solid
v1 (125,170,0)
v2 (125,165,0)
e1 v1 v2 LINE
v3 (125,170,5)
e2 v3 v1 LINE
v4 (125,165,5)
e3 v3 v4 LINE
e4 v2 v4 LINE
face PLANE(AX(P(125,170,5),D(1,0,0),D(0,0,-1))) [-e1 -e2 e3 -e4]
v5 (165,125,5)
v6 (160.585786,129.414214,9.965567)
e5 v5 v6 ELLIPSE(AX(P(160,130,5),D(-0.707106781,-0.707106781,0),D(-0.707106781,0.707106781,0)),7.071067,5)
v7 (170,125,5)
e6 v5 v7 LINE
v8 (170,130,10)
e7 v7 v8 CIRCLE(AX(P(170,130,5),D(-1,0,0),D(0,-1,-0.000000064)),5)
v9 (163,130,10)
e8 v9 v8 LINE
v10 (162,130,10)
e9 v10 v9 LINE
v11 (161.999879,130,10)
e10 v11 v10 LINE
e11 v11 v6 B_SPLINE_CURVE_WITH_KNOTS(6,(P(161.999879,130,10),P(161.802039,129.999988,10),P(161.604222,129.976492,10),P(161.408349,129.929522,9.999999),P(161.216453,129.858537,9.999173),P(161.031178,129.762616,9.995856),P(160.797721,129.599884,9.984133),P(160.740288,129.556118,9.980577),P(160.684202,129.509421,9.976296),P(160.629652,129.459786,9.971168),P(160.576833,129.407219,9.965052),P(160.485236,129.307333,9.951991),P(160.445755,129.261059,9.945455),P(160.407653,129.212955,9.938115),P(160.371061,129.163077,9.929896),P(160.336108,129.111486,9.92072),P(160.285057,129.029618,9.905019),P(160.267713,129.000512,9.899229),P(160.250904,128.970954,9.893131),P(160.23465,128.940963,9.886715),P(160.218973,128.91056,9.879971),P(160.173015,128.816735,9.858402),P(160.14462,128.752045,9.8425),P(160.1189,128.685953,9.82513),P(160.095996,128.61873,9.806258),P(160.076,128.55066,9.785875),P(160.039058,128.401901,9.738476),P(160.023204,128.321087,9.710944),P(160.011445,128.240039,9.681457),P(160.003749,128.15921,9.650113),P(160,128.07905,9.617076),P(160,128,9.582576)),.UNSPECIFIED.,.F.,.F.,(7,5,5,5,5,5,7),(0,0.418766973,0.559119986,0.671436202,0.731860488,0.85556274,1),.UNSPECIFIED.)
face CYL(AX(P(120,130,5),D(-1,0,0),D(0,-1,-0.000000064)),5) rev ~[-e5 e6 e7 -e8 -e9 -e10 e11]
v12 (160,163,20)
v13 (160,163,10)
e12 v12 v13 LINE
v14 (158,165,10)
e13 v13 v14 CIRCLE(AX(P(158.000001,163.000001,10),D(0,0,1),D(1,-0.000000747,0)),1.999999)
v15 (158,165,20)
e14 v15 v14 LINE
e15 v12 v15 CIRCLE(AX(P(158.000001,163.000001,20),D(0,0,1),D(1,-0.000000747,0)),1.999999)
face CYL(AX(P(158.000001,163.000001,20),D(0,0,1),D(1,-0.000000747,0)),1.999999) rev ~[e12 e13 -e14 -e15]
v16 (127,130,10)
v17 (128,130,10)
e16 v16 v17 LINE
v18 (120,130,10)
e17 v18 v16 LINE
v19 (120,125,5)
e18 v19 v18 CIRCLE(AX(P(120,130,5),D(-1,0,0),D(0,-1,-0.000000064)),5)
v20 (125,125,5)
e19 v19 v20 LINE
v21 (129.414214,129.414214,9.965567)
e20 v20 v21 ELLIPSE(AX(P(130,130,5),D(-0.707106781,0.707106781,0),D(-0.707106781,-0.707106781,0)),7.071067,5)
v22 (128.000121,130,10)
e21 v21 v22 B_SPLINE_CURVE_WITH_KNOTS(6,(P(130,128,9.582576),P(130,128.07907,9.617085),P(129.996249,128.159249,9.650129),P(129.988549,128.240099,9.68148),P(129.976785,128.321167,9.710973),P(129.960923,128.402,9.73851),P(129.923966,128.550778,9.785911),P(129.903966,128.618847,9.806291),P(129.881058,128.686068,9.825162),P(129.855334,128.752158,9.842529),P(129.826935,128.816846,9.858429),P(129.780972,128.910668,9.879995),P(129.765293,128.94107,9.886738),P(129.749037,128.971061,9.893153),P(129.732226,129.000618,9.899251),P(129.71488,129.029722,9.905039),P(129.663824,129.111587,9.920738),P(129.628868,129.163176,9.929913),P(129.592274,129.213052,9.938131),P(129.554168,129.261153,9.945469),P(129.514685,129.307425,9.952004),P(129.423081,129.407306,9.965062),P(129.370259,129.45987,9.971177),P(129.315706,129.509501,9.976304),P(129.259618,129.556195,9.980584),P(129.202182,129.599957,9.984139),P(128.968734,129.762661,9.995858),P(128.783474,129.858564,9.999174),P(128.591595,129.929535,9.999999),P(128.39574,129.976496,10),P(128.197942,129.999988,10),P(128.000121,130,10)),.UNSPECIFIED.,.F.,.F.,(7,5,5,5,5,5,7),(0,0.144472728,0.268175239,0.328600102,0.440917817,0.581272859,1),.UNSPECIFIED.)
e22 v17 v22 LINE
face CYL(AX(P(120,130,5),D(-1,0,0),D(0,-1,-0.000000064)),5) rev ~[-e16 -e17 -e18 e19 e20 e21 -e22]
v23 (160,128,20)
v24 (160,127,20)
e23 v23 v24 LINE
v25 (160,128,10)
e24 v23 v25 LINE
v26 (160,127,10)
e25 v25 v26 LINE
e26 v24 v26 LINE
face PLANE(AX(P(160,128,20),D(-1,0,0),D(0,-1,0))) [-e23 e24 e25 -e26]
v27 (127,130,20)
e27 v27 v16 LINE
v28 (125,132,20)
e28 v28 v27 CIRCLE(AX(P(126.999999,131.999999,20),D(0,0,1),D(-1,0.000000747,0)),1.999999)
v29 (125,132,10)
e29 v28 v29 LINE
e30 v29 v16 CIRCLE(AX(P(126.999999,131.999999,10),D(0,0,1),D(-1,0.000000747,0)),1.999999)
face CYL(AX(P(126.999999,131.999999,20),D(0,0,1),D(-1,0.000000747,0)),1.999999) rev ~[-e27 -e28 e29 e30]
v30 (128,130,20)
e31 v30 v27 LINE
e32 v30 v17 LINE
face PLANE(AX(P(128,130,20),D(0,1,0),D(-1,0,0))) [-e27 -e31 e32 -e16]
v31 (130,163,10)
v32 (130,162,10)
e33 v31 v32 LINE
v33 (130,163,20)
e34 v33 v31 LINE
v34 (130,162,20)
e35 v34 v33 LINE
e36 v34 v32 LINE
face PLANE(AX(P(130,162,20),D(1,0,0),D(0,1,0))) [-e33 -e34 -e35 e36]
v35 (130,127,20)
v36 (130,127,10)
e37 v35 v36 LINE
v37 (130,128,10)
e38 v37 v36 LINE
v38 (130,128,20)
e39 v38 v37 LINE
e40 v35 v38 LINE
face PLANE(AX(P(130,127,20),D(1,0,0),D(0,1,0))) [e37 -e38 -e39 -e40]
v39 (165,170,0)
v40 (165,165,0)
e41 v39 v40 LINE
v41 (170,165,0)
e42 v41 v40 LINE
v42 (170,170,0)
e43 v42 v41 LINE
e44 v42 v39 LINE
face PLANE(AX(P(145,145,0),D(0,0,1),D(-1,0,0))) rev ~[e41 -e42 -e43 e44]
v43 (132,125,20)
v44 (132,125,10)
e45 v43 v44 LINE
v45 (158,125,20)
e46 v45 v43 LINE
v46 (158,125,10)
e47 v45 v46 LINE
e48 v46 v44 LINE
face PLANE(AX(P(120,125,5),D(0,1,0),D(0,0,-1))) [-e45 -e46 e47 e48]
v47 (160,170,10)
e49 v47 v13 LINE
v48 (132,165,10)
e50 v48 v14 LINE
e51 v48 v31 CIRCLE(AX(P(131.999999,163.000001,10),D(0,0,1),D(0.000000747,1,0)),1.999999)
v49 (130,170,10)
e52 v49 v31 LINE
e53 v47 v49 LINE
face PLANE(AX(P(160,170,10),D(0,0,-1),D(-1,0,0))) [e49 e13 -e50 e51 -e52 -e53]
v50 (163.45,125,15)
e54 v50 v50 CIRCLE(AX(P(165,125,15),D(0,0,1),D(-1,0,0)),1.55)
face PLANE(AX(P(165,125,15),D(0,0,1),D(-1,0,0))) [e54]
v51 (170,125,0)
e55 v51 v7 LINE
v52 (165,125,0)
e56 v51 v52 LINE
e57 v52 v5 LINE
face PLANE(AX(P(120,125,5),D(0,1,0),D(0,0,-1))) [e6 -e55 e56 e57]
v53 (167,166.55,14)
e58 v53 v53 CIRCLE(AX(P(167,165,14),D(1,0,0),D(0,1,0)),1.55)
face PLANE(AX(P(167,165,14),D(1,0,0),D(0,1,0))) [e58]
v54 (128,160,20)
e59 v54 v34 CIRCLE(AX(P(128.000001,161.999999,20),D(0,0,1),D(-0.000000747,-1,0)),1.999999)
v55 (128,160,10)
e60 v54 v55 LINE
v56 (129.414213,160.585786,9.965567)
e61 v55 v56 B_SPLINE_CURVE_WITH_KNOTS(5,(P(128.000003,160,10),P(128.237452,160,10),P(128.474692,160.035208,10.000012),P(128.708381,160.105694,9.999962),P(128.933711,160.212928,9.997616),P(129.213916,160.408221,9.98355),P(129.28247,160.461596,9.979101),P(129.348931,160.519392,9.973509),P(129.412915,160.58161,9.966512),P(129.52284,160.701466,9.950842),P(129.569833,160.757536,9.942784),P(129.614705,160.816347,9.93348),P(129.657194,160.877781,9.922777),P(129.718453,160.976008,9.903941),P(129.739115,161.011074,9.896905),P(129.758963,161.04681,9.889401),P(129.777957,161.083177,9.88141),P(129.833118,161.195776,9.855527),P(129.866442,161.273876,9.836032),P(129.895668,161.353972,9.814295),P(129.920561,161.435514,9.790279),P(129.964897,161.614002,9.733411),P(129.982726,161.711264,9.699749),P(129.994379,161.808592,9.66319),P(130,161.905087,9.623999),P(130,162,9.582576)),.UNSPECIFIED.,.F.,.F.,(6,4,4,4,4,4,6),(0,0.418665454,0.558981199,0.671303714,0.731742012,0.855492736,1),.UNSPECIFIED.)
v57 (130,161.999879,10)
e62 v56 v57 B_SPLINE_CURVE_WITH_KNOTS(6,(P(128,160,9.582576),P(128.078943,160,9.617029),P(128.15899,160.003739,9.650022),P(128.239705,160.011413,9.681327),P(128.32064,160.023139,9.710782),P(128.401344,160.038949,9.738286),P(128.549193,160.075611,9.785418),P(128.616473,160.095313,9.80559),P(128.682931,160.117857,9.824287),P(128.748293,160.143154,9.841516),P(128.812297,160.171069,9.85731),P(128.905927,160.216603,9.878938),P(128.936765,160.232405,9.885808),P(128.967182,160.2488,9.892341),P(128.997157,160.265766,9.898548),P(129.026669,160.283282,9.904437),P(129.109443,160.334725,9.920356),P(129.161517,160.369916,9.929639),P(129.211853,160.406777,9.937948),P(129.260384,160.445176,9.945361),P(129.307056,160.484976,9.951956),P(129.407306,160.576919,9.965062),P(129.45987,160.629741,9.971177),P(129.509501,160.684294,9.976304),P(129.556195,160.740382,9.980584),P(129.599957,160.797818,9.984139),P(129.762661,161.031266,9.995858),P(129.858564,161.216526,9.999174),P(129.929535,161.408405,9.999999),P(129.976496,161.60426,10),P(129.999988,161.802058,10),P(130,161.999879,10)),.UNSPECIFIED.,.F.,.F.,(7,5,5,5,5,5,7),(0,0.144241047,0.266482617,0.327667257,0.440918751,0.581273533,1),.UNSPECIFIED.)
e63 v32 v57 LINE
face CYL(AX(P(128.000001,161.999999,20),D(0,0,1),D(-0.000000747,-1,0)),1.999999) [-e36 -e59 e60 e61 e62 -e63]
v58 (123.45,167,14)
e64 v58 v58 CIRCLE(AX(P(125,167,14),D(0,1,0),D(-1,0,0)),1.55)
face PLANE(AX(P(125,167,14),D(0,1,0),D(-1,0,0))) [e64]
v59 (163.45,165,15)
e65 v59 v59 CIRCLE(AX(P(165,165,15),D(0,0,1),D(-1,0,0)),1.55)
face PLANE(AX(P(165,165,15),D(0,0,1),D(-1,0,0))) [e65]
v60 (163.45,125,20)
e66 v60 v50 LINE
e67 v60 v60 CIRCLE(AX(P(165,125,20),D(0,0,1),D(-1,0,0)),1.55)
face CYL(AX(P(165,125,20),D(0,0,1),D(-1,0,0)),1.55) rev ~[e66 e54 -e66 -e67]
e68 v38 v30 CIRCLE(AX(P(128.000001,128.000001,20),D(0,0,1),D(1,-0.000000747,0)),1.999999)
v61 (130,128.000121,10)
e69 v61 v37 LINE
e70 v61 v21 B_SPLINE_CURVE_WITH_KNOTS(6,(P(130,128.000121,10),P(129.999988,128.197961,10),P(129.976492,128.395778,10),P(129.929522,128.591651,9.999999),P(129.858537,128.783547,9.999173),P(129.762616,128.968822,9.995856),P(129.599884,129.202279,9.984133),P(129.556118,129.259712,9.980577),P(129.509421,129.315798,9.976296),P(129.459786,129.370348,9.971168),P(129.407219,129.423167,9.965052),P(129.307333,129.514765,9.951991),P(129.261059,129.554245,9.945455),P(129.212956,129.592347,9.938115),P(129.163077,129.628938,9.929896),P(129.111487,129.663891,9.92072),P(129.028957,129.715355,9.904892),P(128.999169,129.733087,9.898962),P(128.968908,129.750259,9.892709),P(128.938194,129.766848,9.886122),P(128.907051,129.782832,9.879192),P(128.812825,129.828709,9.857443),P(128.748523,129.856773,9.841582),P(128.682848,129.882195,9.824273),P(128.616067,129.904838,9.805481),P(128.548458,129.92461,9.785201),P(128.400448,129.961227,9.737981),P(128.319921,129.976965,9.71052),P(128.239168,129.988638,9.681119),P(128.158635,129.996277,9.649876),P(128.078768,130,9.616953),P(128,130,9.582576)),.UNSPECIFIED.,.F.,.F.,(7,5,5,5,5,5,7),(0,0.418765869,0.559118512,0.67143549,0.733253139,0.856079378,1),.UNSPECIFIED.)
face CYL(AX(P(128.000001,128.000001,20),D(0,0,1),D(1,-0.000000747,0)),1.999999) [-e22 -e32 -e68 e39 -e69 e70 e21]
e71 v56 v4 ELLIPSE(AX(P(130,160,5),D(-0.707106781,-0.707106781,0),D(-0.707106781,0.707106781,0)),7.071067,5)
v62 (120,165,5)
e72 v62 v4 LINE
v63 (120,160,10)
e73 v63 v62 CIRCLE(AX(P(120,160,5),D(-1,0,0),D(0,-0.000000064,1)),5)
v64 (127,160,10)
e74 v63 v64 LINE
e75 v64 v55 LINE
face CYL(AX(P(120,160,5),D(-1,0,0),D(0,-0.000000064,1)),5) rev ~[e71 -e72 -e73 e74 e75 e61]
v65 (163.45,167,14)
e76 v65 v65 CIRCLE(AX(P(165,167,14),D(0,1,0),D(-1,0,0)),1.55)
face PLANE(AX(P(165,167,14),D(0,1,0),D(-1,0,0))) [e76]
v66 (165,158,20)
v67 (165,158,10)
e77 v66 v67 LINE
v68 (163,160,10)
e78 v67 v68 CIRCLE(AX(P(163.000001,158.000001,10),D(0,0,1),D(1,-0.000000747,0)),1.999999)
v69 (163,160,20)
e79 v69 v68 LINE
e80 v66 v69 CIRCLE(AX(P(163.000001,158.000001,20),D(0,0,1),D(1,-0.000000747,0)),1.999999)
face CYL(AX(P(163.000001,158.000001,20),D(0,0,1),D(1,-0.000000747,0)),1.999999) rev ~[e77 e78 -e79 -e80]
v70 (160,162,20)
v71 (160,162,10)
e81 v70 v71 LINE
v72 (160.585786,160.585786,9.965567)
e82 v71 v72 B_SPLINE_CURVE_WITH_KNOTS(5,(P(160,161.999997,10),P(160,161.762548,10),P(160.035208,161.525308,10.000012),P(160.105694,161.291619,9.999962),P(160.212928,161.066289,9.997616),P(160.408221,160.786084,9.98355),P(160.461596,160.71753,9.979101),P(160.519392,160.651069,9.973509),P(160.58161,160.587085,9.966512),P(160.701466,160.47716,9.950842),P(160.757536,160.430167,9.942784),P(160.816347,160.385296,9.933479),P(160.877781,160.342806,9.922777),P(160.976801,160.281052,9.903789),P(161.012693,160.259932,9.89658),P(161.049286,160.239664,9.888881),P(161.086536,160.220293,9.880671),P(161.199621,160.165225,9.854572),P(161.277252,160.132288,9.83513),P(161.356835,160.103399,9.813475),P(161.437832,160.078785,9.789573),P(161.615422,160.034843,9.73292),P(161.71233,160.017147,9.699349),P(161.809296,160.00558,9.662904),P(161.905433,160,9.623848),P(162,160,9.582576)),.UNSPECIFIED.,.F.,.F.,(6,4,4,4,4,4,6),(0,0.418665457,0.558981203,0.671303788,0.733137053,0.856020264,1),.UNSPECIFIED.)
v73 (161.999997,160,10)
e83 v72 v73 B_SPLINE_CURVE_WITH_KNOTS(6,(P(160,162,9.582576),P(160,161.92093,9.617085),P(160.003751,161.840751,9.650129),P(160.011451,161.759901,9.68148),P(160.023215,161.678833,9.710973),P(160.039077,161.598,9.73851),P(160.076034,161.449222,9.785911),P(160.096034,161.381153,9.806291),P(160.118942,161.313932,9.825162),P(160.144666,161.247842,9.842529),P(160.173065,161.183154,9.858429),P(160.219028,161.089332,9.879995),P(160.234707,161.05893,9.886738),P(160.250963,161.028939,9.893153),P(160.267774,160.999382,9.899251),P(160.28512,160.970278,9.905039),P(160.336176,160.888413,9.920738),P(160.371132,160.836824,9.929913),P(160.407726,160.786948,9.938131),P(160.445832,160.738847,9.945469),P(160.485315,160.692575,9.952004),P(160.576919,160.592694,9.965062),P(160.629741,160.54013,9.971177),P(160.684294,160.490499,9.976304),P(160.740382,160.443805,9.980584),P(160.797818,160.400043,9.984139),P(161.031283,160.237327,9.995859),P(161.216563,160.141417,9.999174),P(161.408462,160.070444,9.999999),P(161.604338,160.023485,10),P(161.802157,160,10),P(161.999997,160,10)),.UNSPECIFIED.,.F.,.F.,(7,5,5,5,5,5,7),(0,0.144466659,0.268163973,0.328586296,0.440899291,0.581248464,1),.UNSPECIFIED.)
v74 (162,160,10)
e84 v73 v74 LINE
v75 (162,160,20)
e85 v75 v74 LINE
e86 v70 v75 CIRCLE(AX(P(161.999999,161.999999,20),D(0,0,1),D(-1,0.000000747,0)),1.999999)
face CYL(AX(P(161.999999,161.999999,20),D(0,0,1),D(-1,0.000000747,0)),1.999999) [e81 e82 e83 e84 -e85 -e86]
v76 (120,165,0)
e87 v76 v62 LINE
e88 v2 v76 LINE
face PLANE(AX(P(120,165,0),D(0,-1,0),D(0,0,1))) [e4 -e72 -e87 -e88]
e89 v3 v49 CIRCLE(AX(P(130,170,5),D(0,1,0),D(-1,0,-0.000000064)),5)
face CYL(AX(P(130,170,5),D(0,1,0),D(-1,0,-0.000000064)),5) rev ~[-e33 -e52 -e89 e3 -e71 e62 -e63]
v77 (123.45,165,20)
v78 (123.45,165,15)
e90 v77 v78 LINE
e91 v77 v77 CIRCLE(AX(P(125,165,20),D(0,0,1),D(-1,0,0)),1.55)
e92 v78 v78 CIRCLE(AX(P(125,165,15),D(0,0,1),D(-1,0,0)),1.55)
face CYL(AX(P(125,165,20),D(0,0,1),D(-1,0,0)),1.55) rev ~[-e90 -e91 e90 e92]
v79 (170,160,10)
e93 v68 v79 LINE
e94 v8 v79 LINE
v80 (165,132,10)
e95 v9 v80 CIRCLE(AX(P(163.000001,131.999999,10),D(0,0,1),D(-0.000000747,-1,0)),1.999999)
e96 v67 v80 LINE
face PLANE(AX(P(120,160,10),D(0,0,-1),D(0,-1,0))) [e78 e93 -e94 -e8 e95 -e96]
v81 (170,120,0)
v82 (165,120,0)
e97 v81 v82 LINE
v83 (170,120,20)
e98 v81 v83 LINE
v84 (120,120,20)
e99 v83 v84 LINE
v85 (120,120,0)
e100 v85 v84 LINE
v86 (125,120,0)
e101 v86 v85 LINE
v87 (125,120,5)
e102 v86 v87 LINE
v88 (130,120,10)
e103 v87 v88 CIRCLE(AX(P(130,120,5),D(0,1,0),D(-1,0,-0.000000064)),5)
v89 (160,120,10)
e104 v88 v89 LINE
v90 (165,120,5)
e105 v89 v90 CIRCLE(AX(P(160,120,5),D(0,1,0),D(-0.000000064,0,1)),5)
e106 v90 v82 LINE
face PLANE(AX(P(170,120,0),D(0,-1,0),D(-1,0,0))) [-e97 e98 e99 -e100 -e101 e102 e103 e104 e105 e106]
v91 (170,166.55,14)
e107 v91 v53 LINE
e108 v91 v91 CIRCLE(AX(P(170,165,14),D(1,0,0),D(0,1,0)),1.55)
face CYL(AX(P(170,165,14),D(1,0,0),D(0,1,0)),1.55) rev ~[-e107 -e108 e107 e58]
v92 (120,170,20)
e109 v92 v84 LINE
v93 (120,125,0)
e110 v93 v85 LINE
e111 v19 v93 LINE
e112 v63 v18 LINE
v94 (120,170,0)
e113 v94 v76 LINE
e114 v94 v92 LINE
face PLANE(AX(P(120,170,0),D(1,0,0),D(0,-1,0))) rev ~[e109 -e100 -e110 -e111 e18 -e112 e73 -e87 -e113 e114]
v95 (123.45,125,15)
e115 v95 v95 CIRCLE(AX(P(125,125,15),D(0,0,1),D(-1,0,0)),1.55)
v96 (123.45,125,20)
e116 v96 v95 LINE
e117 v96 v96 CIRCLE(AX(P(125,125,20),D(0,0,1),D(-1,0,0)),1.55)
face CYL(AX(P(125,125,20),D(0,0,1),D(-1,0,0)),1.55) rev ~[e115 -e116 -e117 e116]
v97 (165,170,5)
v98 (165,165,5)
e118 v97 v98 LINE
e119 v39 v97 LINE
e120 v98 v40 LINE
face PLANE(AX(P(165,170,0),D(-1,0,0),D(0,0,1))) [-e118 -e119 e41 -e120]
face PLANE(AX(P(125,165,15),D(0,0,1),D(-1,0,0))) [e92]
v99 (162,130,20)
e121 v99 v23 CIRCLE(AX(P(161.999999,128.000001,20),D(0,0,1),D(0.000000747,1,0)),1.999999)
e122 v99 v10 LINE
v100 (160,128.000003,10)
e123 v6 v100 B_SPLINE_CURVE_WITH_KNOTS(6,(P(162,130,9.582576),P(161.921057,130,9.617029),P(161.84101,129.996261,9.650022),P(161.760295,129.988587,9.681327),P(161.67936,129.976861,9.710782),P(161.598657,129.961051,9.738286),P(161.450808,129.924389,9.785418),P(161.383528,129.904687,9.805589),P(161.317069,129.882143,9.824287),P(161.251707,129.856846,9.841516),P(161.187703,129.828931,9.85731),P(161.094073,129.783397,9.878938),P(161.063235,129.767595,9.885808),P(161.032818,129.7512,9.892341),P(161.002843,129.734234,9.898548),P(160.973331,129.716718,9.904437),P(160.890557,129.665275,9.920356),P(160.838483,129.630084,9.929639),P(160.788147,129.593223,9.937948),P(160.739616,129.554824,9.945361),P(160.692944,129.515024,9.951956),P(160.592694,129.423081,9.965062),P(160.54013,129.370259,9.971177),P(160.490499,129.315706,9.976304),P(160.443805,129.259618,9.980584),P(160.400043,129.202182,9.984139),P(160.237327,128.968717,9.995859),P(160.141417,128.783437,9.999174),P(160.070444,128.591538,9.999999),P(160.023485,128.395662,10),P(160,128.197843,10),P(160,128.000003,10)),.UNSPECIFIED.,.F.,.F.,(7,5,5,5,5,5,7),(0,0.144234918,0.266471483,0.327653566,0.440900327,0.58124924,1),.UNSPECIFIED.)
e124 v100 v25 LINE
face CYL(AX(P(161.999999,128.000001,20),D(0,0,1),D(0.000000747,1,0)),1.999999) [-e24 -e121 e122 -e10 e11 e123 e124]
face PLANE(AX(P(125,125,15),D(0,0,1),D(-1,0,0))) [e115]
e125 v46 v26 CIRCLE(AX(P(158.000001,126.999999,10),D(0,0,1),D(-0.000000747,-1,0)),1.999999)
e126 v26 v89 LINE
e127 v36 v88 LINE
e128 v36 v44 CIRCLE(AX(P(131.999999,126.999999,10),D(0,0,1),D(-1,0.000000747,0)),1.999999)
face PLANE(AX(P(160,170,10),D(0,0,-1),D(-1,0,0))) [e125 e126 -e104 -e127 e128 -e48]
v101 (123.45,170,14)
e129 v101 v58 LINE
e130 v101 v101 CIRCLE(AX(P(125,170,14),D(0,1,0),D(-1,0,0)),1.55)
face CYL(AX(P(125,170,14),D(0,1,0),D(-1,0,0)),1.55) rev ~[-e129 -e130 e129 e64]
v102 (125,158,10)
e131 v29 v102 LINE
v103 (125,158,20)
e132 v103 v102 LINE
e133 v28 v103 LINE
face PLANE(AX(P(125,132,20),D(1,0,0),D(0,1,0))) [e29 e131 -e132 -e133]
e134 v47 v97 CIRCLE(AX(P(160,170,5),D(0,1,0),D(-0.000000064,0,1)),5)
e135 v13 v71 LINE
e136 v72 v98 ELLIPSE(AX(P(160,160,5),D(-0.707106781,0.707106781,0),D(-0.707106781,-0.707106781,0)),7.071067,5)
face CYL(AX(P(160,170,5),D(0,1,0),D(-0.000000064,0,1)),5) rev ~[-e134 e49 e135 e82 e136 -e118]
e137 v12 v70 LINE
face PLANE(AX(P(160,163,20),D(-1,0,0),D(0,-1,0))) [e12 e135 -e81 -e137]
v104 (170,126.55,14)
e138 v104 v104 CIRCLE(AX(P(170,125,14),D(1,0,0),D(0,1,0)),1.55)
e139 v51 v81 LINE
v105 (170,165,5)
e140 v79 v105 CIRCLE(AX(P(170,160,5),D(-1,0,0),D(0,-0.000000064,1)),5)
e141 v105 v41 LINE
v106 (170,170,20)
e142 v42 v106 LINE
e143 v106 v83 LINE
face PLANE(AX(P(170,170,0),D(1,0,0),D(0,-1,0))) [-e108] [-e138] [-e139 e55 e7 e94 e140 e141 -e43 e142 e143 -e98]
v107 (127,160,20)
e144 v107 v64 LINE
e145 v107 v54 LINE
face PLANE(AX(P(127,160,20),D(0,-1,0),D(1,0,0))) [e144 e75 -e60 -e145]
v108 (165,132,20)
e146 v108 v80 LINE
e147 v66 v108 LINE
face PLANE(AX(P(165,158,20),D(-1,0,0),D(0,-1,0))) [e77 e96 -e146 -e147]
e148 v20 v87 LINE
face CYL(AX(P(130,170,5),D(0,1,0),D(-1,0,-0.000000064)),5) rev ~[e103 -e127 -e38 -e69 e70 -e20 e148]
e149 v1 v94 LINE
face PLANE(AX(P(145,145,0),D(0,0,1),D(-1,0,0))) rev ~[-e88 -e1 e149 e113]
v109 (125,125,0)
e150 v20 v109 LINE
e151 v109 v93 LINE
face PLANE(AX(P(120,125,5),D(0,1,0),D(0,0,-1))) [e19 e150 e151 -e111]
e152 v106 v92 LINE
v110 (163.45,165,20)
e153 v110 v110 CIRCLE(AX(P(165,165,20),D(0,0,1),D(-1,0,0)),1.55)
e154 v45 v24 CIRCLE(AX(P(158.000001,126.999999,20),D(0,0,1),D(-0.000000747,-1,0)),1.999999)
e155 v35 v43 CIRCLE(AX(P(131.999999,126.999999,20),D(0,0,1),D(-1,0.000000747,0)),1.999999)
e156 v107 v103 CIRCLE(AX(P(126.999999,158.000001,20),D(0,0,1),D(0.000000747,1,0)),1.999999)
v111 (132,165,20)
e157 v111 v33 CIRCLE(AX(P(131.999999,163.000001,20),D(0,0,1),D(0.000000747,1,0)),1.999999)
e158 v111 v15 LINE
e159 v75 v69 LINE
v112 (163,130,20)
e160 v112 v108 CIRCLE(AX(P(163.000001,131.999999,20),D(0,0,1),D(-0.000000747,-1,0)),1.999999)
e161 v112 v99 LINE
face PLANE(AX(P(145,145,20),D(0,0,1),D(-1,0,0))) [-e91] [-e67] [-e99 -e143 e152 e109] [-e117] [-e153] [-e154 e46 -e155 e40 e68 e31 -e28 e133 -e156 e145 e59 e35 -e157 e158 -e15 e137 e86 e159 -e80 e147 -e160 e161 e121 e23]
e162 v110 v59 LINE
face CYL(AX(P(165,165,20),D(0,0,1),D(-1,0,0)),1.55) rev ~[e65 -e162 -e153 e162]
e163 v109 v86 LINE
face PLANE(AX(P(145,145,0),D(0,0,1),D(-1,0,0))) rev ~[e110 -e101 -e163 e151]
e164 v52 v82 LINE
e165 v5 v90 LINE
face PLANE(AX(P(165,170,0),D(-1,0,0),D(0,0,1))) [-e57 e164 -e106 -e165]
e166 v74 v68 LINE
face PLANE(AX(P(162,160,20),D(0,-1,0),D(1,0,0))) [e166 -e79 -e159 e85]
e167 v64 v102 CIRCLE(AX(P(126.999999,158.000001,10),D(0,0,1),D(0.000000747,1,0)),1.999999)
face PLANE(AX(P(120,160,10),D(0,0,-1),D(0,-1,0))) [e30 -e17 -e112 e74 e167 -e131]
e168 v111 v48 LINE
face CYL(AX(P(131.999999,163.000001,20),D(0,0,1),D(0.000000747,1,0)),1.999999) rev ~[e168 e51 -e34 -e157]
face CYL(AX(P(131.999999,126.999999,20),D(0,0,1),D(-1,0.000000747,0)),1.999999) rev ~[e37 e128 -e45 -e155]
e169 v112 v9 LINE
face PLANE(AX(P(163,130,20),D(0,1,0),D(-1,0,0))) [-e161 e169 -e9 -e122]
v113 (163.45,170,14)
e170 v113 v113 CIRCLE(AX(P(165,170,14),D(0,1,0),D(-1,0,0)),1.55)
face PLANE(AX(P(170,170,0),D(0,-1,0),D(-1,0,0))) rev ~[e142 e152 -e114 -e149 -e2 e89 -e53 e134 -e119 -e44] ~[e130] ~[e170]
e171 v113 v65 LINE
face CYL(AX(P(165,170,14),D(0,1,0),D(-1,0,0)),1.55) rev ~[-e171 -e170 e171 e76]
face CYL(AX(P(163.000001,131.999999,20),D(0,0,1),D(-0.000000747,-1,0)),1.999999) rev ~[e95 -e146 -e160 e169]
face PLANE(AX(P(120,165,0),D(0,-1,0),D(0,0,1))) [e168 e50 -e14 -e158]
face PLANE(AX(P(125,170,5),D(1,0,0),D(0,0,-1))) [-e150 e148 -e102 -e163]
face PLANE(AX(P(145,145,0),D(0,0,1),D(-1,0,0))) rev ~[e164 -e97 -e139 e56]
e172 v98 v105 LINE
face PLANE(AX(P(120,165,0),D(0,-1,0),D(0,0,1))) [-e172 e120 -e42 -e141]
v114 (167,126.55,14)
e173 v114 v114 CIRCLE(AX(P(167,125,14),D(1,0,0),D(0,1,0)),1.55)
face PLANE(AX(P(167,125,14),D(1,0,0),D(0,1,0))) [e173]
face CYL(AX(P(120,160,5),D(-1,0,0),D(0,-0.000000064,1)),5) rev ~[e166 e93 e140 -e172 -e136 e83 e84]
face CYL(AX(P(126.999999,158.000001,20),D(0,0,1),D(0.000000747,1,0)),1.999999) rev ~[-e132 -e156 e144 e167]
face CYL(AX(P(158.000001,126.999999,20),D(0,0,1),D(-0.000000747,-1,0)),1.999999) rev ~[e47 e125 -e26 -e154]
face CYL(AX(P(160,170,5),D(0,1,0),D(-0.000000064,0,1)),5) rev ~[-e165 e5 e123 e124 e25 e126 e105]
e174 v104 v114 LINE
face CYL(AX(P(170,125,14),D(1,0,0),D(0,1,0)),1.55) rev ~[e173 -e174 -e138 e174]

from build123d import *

# Parameters (mm, degrees)
SKETCH232_W             = 50
SKETCH232_H             = 50
PAD039_DEPTH            = 20
POCKET194_DEPTH         = 20.001
POCKET195_DEPTH         = 50.001
POCKET196_DEPTH         = 50.001
SKETCH236_R             = 1.55
POCKET197_DEPTH         = 5
SKETCH237_R             = 1.55
POCKET198_DEPTH         = 3
SKETCH238_R             = 1.55
POCKET199_DEPTH         = 3
BODY040_PLACEMENT_ANGLE = 180


with BuildPart() as part:
    # Sketch232 → Pad039 (new body)
    with BuildSketch(Plane.XY):
        Rectangle(SKETCH232_W, SKETCH232_H)
    extrude(amount=PAD039_DEPTH)

    # Sketch233 (on Face6 of Pad039) → Pocket194 (cut, through all)
    with BuildSketch(Plane.XY.offset(20)):
        with BuildLine():
            Line((-18, 15), (-17, 15))
            ThreePointArc((-17, 15), (-15.585786, 15.585786), (-15, 17))
            Line((-15, 17), (-15, 18))
            ThreePointArc((-13, 20), (-14.414214, 19.414214), (-15, 18))
            Line((-13, 20), (13, 20))
            ThreePointArc((15, 18), (14.414214, 19.414214), (13, 20))
            Line((15, 18), (15, 17))
            ThreePointArc((15, 17), (15.585786, 15.585786), (17, 15))
            Line((17, 15), (18, 15))
            ThreePointArc((20, 13), (19.414214, 14.414214), (18, 15))
            Line((20, 13), (20, -13))
            ThreePointArc((18, -15), (19.414214, -14.414214), (20, -13))
            Line((18, -15), (17, -15))
            ThreePointArc((17, -15), (15.585786, -15.585786), (15, -17))
            Line((15, -17), (15, -18))
            ThreePointArc((13, -20), (14.414214, -19.414214), (15, -18))
            Line((13, -20), (-13, -20))
            ThreePointArc((-15, -18), (-14.414214, -19.414214), (-13, -20))
            Line((-15, -18), (-15, -17))
            ThreePointArc((-15, -17), (-15.585786, -15.585786), (-17, -15))
            Line((-17, -15), (-18, -15))
            ThreePointArc((-20, -13), (-19.414214, -14.414214), (-18, -15))
            Line((-20, -13), (-20, 13))
            ThreePointArc((-18, 15), (-19.414214, 14.414214), (-20, 13))
        make_face()
    extrude(amount=-POCKET194_DEPTH, mode=Mode.SUBTRACT)

    # Sketch234 (on Face3 of Pocket194) → Pocket195 (cut, through all)
    with BuildSketch(Plane.YZ.offset(25)):
        with BuildLine():
            Line((-15, 10), (15, 10))
            ThreePointArc((20, 5), (18.535534, 8.535534), (15, 10))
            Line((20, 5), (20, 0))
            Line((20, 0), (-20, 0))
            Line((-20, 0), (-20, 5))
            ThreePointArc((-15, 10), (-18.535534, 8.535534), (-20, 5))
        make_face()
    extrude(amount=-POCKET195_DEPTH, mode=Mode.SUBTRACT)

    # Sketch235 (on Face6 of Pocket194) → Pocket196 (cut, through all)
    with BuildSketch(Plane.XZ.offset(25)):
        with BuildLine():
            Line((-15, 10), (15, 10))
            ThreePointArc((20, 5), (18.535534, 8.535534), (15, 10))
            Line((20, 5), (20, 0))
            Line((20, 0), (-20, 0))
            Line((-20, 0), (-20, 5))
            ThreePointArc((-15, 10), (-18.535534, 8.535534), (-20, 5))
        make_face()
    extrude(amount=-POCKET196_DEPTH, mode=Mode.SUBTRACT)

    # Sketch236 → Pocket197 (cut)
    with BuildSketch(Plane.XY.offset(20)):
        with Locations((-20, 20)):
            Circle(SKETCH236_R)
        with Locations((20, 20)):
            Circle(SKETCH236_R)
        with Locations((20, -20)):
            Circle(SKETCH236_R)
        with Locations((-20, -20)):
            Circle(SKETCH236_R)
    extrude(amount=-POCKET197_DEPTH, mode=Mode.SUBTRACT)

    # Sketch237 (on Face27 of Pocket197) → Pocket198 (cut)
    with BuildSketch(Plane.XZ.offset(25)):
        with Locations((-20, 14)):
            Circle(SKETCH237_R)
        with Locations((20, 14)):
            Circle(SKETCH237_R)
    extrude(amount=-POCKET198_DEPTH, mode=Mode.SUBTRACT)

    # Sketch238 (on Face11 of Pocket198) → Pocket199 (cut)
    with BuildSketch(Plane(origin=(-25, 0, 0), x_dir=(0, -1, 0), z_dir=(-1, 0, 0))):
        with Locations((-20, 14)):
            Circle(SKETCH238_R)
        with Locations((20, 14)):
            Circle(SKETCH238_R)
    extrude(amount=-POCKET199_DEPTH, mode=Mode.SUBTRACT)


with BuildPart() as part_1:
    # Body040 placement: moved
    add(part.part.moved(Location((145, 145, 0))).rotate(Axis((145, 145, 0), (0, 0, 1)), BODY040_PLACEMENT_ANGLE))


solid = part_1.part
